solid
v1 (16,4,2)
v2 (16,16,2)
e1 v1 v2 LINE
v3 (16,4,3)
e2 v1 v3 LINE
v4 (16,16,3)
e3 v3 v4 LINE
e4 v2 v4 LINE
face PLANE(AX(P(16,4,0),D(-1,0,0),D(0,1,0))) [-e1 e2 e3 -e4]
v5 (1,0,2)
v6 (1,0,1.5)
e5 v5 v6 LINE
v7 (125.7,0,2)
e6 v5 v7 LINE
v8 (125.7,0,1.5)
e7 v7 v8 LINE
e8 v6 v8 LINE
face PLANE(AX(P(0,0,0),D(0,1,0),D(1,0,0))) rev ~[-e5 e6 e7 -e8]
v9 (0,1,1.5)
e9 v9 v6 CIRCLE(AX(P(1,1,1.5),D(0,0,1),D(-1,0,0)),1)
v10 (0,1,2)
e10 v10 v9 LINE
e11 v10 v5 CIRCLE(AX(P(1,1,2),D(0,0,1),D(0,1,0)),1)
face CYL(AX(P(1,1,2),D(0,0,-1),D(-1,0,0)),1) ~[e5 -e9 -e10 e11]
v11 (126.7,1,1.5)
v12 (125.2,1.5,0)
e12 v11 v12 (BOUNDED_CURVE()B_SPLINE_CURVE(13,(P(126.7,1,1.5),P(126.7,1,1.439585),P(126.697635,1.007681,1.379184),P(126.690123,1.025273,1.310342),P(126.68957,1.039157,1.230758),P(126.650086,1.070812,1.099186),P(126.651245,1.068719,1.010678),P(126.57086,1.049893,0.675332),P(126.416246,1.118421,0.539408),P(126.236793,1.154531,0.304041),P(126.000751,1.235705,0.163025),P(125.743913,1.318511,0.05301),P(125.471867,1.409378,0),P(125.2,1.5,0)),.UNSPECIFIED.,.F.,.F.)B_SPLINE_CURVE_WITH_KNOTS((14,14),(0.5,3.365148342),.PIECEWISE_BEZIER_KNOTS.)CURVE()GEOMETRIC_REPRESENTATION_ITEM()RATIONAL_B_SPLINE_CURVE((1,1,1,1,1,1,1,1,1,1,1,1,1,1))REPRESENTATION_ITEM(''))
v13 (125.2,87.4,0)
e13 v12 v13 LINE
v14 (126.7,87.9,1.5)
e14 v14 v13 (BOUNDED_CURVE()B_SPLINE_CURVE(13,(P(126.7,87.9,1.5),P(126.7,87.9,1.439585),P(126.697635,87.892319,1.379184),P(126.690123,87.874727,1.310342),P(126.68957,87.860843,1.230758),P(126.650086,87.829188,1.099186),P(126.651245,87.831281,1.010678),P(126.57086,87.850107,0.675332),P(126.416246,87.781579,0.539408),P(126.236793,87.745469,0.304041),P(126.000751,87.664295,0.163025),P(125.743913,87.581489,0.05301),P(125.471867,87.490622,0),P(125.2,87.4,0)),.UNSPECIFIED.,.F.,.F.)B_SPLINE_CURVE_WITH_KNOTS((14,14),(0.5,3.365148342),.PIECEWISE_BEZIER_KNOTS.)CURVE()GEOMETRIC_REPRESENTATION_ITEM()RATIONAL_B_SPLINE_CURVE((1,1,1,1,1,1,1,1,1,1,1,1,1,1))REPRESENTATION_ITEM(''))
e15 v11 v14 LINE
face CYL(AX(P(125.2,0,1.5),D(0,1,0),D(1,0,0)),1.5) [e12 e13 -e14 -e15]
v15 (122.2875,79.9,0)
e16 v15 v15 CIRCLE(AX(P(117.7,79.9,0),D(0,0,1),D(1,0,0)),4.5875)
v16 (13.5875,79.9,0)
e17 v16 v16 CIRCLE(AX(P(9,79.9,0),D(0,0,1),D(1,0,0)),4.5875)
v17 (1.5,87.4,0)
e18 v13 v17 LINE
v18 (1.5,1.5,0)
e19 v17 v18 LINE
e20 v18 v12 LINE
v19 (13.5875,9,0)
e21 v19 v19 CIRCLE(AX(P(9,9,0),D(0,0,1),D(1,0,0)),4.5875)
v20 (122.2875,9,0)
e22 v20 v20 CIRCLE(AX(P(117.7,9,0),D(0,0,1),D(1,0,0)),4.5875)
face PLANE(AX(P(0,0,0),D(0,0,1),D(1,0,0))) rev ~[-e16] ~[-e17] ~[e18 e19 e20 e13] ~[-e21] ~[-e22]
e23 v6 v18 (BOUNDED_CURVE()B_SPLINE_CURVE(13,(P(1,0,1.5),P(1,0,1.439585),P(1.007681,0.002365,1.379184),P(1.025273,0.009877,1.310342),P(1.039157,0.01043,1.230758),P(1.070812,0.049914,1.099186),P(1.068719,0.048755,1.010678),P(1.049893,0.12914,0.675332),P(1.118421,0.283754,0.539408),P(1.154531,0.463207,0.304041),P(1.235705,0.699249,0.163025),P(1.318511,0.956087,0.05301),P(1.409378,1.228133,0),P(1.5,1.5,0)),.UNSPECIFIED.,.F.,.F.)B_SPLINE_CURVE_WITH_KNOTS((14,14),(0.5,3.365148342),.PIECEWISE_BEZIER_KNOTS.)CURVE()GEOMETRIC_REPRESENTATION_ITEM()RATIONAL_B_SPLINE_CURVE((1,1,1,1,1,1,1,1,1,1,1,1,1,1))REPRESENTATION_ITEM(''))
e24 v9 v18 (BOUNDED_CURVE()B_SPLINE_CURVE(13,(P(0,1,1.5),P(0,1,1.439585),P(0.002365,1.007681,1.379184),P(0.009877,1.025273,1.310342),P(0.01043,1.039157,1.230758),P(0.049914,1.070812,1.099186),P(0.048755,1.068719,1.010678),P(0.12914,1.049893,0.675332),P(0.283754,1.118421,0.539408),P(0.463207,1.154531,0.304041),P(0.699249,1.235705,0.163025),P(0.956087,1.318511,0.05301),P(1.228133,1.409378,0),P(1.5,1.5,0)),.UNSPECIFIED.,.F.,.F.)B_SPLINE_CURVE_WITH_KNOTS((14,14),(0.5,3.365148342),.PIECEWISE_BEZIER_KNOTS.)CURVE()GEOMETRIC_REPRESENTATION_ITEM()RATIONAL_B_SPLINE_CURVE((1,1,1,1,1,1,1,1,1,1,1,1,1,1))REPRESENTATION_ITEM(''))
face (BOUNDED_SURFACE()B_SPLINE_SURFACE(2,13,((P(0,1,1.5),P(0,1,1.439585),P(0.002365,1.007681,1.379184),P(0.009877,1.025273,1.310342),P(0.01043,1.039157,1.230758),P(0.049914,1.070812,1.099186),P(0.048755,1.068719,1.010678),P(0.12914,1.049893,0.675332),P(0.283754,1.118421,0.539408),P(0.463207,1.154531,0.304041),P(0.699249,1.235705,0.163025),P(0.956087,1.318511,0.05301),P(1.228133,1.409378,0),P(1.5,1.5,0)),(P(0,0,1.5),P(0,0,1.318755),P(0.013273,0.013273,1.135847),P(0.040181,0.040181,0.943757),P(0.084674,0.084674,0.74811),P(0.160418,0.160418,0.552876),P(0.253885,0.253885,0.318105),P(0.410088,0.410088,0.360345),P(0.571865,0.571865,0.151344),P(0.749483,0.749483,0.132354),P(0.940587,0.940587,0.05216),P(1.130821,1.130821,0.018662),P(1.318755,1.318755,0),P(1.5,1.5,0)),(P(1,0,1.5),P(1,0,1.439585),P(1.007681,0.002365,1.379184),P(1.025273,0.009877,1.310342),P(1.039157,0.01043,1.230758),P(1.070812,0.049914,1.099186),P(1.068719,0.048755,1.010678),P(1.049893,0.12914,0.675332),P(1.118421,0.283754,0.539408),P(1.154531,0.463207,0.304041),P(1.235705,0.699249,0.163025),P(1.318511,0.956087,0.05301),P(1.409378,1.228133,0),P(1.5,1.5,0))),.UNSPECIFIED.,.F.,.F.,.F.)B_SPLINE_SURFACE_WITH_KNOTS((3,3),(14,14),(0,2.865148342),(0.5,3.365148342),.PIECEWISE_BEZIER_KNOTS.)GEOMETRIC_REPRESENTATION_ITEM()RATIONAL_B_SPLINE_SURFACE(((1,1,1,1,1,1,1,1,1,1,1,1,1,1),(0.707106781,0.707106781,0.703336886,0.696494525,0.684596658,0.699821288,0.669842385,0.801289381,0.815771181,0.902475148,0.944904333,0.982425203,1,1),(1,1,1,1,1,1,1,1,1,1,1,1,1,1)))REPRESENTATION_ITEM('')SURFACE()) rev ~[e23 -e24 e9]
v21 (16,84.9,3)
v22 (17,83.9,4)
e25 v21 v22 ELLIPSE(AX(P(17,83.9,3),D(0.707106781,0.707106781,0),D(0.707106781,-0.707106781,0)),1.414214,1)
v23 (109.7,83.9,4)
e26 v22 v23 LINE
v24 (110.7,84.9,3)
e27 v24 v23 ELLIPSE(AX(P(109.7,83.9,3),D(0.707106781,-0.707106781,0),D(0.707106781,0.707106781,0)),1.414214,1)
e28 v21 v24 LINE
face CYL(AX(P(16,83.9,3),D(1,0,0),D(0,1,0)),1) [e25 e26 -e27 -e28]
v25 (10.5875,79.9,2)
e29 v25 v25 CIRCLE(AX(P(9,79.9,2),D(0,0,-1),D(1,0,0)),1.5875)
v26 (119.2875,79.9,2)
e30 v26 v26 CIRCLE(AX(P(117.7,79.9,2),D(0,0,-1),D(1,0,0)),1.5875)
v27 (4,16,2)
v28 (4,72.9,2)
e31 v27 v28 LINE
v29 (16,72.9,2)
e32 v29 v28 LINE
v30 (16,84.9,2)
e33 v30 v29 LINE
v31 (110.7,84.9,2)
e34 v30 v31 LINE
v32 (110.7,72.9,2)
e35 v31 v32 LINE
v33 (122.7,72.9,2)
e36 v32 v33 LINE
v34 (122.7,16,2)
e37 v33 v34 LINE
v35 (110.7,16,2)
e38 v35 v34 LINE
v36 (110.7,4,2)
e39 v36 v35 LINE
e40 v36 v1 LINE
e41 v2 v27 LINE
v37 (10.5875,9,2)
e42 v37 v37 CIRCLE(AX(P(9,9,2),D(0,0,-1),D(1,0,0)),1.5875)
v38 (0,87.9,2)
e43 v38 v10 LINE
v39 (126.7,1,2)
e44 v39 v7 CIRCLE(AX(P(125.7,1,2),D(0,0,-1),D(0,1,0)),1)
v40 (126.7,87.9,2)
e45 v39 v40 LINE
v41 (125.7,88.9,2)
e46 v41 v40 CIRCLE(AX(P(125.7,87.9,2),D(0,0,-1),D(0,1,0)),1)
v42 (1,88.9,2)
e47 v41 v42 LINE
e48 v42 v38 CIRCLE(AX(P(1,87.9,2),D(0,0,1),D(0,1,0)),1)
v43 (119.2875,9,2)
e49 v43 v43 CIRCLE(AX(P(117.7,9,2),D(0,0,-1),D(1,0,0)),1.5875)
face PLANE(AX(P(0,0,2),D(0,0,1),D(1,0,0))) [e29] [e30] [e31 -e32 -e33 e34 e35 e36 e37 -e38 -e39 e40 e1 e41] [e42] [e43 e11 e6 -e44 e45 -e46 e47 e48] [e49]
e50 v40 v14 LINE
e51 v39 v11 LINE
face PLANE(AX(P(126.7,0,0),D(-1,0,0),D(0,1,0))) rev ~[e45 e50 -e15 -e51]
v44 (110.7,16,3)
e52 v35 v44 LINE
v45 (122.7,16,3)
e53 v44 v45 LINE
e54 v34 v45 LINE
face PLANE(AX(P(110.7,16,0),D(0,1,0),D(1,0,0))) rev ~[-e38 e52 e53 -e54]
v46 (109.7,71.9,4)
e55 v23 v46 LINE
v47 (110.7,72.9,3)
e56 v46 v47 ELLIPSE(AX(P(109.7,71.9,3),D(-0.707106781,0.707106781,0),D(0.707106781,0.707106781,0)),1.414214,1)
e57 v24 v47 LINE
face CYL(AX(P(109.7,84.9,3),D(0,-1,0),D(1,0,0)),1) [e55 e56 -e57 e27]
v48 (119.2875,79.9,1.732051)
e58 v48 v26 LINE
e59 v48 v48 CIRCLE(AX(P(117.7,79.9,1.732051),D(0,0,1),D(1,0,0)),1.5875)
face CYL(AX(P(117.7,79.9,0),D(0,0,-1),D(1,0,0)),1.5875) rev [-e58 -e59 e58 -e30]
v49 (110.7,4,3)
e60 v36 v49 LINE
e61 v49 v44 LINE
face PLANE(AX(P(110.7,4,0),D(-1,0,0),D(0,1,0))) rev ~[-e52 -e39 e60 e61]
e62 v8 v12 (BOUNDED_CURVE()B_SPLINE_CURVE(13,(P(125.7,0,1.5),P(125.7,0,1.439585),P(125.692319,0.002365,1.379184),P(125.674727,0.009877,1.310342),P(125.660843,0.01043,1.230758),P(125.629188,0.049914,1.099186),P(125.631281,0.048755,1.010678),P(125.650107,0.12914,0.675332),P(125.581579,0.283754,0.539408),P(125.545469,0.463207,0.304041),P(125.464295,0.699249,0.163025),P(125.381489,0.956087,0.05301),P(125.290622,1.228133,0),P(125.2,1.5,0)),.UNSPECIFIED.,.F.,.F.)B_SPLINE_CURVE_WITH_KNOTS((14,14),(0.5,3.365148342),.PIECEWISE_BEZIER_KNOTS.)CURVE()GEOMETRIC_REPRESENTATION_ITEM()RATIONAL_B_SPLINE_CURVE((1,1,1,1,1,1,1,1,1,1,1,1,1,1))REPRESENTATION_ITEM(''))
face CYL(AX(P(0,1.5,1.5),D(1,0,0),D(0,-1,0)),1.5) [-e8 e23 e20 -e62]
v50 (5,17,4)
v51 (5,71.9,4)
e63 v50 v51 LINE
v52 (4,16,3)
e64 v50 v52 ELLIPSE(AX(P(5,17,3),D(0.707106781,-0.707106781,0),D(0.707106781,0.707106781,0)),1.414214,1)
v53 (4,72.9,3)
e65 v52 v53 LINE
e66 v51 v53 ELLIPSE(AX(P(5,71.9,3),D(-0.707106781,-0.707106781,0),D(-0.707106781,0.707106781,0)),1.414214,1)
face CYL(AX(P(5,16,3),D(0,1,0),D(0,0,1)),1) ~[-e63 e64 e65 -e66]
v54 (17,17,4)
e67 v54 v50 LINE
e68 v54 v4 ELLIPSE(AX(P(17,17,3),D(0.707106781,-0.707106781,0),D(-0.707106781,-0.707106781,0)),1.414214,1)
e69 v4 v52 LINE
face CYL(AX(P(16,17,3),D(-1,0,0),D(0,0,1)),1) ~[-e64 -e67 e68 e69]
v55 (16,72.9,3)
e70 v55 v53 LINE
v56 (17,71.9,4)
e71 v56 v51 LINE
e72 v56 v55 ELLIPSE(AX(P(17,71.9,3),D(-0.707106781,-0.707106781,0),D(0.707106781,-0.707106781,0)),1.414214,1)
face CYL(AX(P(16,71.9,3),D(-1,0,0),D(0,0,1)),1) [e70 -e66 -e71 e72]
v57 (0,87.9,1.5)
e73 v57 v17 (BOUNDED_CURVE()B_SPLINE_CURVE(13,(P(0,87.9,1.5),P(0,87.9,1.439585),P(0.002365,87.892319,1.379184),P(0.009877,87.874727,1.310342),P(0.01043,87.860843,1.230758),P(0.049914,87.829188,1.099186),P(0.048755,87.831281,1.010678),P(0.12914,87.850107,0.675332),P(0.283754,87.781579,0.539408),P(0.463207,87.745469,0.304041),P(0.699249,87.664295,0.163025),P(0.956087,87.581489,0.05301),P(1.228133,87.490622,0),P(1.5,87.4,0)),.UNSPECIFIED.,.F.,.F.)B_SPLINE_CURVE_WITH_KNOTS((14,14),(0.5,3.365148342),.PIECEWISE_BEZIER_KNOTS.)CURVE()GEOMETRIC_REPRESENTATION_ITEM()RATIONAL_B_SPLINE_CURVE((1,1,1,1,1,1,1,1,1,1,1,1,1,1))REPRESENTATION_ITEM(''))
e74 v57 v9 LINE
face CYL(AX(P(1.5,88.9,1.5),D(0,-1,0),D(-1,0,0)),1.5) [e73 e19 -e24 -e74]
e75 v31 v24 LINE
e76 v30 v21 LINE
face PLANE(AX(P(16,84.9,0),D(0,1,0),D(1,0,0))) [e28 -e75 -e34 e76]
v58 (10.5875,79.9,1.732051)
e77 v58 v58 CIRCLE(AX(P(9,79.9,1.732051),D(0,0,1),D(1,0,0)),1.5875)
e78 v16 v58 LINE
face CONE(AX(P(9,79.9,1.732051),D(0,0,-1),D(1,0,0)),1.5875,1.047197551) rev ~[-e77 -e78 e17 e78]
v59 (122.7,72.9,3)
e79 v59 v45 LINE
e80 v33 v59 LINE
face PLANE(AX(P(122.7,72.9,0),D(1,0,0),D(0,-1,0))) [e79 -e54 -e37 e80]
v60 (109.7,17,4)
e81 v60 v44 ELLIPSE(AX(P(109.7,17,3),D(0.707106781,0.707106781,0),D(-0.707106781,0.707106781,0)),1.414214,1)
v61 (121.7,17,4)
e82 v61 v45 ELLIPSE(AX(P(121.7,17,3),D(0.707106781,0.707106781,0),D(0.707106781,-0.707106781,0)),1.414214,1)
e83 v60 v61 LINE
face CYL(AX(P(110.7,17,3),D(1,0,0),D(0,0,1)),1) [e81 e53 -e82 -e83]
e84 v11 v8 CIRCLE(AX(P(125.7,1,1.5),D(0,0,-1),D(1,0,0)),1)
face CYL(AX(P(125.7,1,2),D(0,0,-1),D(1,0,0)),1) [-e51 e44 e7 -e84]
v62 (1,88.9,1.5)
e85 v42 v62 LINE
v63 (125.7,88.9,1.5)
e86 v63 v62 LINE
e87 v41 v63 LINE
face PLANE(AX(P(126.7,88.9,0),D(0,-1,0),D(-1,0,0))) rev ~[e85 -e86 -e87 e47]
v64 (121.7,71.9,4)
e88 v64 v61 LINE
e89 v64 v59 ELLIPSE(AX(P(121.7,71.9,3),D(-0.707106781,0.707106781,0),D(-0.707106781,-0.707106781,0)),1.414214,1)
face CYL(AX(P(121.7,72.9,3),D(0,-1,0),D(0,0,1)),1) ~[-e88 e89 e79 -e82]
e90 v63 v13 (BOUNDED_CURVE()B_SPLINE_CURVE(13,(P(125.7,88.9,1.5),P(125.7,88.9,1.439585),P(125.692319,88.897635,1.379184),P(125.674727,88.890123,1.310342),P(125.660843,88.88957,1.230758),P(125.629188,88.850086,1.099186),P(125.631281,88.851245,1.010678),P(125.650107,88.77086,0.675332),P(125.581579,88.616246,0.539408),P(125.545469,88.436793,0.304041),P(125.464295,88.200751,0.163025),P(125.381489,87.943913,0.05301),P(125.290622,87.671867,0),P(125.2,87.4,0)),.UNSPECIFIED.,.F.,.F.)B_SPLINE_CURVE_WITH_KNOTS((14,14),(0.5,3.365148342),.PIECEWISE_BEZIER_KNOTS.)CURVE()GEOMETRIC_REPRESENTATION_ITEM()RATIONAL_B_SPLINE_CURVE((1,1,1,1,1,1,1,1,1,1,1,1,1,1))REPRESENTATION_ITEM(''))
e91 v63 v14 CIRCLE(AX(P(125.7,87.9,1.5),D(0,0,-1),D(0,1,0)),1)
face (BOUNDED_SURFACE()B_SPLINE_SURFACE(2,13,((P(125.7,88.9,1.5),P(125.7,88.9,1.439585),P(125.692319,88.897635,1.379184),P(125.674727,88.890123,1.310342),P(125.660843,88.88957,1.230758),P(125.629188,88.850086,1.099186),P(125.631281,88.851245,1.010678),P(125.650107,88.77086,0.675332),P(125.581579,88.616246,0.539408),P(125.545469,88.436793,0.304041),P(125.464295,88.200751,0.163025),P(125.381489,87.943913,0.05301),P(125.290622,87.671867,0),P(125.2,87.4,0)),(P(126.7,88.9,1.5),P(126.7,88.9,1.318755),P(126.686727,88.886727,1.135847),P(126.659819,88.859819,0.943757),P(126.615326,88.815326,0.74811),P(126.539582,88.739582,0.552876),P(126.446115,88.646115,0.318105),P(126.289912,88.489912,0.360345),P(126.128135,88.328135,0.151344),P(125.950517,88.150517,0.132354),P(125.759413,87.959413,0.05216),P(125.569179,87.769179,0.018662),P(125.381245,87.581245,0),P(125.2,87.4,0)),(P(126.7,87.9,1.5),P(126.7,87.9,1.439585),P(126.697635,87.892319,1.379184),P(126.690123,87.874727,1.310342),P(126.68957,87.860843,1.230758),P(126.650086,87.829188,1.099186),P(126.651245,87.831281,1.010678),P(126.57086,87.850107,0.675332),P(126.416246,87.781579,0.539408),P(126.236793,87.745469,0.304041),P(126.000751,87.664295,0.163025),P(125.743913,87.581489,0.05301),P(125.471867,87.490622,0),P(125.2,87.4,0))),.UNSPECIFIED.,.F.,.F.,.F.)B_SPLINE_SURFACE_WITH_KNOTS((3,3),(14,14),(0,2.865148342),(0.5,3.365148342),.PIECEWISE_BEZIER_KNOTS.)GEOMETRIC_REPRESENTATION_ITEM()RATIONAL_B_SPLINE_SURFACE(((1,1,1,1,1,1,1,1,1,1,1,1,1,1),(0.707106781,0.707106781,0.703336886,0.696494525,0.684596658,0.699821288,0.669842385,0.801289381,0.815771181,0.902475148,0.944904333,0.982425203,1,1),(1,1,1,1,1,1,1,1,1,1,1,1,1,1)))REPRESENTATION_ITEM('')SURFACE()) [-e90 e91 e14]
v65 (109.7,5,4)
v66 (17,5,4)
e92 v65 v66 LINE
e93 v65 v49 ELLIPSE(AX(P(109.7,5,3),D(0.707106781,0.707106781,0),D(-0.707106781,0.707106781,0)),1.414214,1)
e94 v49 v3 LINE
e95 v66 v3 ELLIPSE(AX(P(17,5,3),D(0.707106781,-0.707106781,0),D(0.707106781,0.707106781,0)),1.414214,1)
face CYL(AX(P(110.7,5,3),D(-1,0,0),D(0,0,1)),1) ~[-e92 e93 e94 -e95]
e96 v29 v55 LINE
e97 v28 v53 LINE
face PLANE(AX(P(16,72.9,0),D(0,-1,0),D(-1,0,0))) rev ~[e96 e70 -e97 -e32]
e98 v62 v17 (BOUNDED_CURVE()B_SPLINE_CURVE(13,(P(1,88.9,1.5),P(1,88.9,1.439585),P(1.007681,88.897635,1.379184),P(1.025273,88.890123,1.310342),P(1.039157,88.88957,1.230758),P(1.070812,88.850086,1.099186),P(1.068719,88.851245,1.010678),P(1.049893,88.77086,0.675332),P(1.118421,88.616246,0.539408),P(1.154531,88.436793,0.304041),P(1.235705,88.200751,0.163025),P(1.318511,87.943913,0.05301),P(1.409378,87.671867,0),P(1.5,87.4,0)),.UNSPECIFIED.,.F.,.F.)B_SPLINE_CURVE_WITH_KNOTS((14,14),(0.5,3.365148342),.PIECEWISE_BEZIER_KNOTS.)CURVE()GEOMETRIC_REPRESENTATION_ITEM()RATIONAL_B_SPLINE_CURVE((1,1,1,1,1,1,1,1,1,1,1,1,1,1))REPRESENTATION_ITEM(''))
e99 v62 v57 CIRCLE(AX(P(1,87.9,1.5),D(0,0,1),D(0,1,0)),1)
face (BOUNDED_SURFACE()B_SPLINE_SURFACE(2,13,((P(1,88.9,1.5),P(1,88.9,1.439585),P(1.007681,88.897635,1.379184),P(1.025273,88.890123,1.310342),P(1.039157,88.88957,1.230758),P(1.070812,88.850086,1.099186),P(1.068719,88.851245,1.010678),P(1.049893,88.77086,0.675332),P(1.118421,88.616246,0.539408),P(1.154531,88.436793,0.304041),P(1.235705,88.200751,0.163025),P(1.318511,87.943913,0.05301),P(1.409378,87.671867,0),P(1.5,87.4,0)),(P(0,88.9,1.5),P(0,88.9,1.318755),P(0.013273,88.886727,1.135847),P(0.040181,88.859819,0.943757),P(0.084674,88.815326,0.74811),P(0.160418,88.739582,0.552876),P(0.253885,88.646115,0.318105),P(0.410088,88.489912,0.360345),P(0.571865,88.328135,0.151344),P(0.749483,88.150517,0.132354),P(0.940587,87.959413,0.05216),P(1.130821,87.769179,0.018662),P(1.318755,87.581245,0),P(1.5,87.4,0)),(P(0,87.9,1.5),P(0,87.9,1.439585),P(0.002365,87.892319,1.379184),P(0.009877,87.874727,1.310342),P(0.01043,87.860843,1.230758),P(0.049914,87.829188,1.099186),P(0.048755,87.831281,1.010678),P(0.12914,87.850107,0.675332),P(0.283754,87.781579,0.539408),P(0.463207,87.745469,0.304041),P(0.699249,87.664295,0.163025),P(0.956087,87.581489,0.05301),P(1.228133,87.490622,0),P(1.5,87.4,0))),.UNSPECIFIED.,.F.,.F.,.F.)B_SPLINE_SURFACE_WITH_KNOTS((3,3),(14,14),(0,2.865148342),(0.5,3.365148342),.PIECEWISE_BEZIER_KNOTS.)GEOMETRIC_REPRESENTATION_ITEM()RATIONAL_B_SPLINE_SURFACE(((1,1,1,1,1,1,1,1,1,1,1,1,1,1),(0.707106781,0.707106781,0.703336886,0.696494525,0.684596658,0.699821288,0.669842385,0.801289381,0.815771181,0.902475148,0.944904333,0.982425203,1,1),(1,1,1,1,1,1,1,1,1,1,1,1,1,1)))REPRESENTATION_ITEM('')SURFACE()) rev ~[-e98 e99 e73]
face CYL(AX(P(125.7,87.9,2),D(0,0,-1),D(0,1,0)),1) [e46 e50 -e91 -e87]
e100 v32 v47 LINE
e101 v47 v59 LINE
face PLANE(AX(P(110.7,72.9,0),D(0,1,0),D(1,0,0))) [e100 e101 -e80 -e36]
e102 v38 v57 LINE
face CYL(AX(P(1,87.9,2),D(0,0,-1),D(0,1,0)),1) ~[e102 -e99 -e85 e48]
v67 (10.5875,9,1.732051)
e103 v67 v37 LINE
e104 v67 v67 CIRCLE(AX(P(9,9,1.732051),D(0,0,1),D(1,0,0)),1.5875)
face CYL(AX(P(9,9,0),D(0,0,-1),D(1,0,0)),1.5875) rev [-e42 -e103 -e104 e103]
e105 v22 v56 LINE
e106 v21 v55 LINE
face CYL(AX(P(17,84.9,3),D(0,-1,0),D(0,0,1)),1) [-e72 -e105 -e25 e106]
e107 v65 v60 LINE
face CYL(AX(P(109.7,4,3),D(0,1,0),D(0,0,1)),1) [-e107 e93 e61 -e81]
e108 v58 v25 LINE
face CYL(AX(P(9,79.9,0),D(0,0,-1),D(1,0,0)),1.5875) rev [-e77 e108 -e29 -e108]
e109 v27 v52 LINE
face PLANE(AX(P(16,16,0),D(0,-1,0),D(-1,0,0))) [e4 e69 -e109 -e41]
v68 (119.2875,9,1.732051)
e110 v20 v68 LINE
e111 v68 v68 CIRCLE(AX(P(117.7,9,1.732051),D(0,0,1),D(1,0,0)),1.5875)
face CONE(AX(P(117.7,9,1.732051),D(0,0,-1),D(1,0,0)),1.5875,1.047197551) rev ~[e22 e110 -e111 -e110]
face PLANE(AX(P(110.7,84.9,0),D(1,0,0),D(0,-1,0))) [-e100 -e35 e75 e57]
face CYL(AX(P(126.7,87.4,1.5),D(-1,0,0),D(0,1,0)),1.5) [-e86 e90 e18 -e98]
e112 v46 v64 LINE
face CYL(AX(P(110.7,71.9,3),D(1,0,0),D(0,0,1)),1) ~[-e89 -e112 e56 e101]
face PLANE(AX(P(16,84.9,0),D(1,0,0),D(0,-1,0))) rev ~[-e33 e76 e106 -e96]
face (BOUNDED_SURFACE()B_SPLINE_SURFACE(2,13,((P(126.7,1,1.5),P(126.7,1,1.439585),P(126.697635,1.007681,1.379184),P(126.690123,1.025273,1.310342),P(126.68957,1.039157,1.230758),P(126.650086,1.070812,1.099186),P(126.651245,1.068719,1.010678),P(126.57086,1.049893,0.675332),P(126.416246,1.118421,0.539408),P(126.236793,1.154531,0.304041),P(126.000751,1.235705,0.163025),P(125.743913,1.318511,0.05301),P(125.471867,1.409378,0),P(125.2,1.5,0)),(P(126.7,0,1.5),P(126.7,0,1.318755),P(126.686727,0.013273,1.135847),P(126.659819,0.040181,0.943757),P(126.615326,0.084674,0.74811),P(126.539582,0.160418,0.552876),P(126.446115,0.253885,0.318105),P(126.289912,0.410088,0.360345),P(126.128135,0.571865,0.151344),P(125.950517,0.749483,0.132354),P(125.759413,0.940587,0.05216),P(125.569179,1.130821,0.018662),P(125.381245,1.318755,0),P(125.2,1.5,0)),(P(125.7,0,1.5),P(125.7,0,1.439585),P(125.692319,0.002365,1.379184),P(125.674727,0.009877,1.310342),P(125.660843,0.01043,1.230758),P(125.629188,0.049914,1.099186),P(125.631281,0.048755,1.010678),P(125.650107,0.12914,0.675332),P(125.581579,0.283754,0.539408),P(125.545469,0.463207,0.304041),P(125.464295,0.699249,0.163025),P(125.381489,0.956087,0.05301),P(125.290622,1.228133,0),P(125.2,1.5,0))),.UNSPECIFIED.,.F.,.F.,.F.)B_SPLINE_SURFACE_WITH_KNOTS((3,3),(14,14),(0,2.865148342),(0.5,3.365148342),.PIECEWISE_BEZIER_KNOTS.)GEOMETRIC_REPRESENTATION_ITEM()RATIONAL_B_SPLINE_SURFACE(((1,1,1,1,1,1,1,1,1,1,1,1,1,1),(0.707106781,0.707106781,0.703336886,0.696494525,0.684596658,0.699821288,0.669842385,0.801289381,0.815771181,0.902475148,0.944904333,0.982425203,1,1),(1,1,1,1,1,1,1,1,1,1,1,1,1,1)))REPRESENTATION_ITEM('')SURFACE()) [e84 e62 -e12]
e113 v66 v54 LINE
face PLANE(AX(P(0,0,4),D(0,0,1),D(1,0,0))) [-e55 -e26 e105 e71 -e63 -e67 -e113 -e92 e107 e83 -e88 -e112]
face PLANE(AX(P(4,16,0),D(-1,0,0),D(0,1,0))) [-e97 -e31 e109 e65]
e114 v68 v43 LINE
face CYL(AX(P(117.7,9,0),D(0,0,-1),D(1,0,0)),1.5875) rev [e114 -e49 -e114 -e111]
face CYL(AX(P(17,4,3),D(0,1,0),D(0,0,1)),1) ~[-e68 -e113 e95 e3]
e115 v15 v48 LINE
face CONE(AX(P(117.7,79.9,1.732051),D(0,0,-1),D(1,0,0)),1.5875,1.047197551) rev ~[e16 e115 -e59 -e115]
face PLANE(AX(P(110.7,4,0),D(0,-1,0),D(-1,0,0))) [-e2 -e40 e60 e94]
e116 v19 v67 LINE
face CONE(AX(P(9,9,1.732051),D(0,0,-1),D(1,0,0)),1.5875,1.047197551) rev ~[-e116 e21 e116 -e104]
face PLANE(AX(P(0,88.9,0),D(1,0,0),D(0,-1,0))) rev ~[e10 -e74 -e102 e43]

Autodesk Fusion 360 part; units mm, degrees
sketch "Sketch1" plane through (0, 0, 0) normal (0, 0, 1) x (1, 0, 0)
  line L0 (0, 0) -> (126.7, 0)
  line L1 (126.7, 0) -> (126.7, 88.9)
  line L2 (126.7, 88.9) -> (0, 88.9)
  line L3 (0, 88.9) -> (0, 0)
  line L4 (0, 44.45) -> (126.7, 44.45) construction
  line L5 (63.35, 88.9) -> (63.35, 0) construction
  line L6 (4, 84.9) -> (122.7, 84.9)
  line L7 (122.7, 84.9) -> (122.7, 4)
  line L8 (122.7, 4) -> (4, 4)
  line L9 (4, 4) -> (4, 84.9)
  line L10 (4, 84.9) -> (122.7, 4) construction
  line L11 (122.7, 84.9) -> (4, 4) construction
  line L12 (4, 84.9) -> (16, 84.9)
  line L13 (16, 84.9) -> (16, 72.9)
  line L14 (16, 72.9) -> (4, 72.9)
  line L15 (4, 72.9) -> (4, 84.9)
  line L16 (4, 4) -> (16, 4)
  line L17 (16, 4) -> (16, 16)
  line L18 (16, 16) -> (4, 16)
  line L19 (4, 16) -> (4, 4)
  line L20 (122.7, 4) -> (110.7, 4)
  line L21 (110.7, 4) -> (110.7, 16)
  line L22 (110.7, 16) -> (122.7, 16)
  line L23 (122.7, 16) -> (122.7, 4)
  line L24 (122.7, 84.9) -> (110.7, 84.9)
  line L25 (110.7, 84.9) -> (110.7, 72.9)
  line L26 (110.7, 72.9) -> (122.7, 72.9)
  line L27 (122.7, 72.9) -> (122.7, 84.9)
  point P0 (63.35, 44.45)
  dimension "d179" = 126.7
  dimension "d180" = 88.9
  dimension "d181" = 118.7
  dimension "d182" = 80.9
  dimension "d183" = 12
  dimension "d184" = 12
  dimension "d185" = 12
  dimension "d186" = 12
  dimension "d187" = 12
  dimension "d188" = 12
  dimension "d189" = 12
  dimension "d190" = 12
  dimension "d209" = 0
  dimension "d210" = 0
  dimension "d211" = 0
  dimension "d212" = 0
extrude "Extrude1" add sketch "Sketch1" along normal blind 4 contours L6 L7 L8 L9 L13 L14 L17 L18 L21 L22 L25 L26
extrude "Extrude2" add sketch "Sketch1" along normal blind 2 contours L0 L1 L2 L3 | L6 L9 L12 L13 L14 L15 | L6 L7 L24 L25 L26 L27 | L8 L9 L16 L17 L18 L19 | L7 L8 L20 L21 L22 L23
sketch "Sketch2" plane through (0, 0, 0) normal (0, 0, 1) x (1, 0, 0)
  line L0 (126.7, 88.9) -> (0, 88.9)
  line L1 (0, 0) -> (126.7, 0)
  line L2 (117.7, 88.9) -> (117.7, 0) construction
  line L3 (9, 0) -> (9, 88.9) construction
  line L4 (0, 88.9) -> (0, 0)
  line L5 (126.7, 0) -> (126.7, 88.9)
  line L6 (0, 79.9) -> (126.7, 79.9) construction
  line L7 (0, 9) -> (126.7, 9) construction
  line L8 (0, 88.9) -> (0, 0)
  circle A0 centre (9, 9) radius 1.5875
  circle A1 centre (117.7, 9) radius 1.5875
  circle A2 centre (117.7, 79.9) radius 1.5875
  circle A3 centre (9, 79.9) radius 1.5875
  dimension "d195" = 9
  dimension "d196" = 9
  dimension "d197" = 9
  dimension "d198" = 9
  dimension "d199" = 3.175
  dimension "d200" = 3.175
  dimension "d201" = 3.175
  dimension "d202" = 3.175
extrude "Extrude3" cut sketch "Sketch2" along normal blind 10 contours A0 | A1 | A2 | A3
fillet "Fillet1" radius 1 12 edges at (63.35, 84.9, 4) (16, 78.9, 4) (10, 72.9, 4) (4, 44.45, 4) (10, 16, 4) (16, 10, 4) (63.35, 4, 4) (110.7, 10, 4) (116.7, 16, 4) (122.7, 44.45, 4) (116.7, 72.9, 4) (110.7, 78.9, 4)
fillet "Fillet2" radius 1.5 4 edges at (63.35, 88.9, 0) (0, 44.45, 0) (63.35, 0, 0) (126.7, 44.45, 0)
chamfer "Chamfer1" distance 3 angle 30 4 edges at (7.5199, 79.3259, 0) (7.5199, 8.4259, 0) (116.2199, 8.4259, 0) (116.2199, 79.3259, 0) measured on face at (81.0168, 32.9119, 0) measured on face at (81.0168, 32.9119, 0) measured on face at (81.0168, 32.9119, 0) measured on face at (81.0168, 32.9119, 0)
fillet "Fillet3" radius 1 8 edges at (0.4393, 0.4393, 0.4393) (0, 0, 1.75) (0.4393, 88.4607, 0.4393) (0, 88.9, 1.75) (126.2607, 88.4607, 0.4393) (126.7, 88.9, 1.75) (126.2607, 0.4393, 0.4393) (126.7, 0, 1.75)
equation "d181 = 126.7 mm - 8 mm"
equation "d182 = 88.9 mm - 8 mm"
equation "d199 = ( 0.125 * 25.4 ) * 1 mm"
